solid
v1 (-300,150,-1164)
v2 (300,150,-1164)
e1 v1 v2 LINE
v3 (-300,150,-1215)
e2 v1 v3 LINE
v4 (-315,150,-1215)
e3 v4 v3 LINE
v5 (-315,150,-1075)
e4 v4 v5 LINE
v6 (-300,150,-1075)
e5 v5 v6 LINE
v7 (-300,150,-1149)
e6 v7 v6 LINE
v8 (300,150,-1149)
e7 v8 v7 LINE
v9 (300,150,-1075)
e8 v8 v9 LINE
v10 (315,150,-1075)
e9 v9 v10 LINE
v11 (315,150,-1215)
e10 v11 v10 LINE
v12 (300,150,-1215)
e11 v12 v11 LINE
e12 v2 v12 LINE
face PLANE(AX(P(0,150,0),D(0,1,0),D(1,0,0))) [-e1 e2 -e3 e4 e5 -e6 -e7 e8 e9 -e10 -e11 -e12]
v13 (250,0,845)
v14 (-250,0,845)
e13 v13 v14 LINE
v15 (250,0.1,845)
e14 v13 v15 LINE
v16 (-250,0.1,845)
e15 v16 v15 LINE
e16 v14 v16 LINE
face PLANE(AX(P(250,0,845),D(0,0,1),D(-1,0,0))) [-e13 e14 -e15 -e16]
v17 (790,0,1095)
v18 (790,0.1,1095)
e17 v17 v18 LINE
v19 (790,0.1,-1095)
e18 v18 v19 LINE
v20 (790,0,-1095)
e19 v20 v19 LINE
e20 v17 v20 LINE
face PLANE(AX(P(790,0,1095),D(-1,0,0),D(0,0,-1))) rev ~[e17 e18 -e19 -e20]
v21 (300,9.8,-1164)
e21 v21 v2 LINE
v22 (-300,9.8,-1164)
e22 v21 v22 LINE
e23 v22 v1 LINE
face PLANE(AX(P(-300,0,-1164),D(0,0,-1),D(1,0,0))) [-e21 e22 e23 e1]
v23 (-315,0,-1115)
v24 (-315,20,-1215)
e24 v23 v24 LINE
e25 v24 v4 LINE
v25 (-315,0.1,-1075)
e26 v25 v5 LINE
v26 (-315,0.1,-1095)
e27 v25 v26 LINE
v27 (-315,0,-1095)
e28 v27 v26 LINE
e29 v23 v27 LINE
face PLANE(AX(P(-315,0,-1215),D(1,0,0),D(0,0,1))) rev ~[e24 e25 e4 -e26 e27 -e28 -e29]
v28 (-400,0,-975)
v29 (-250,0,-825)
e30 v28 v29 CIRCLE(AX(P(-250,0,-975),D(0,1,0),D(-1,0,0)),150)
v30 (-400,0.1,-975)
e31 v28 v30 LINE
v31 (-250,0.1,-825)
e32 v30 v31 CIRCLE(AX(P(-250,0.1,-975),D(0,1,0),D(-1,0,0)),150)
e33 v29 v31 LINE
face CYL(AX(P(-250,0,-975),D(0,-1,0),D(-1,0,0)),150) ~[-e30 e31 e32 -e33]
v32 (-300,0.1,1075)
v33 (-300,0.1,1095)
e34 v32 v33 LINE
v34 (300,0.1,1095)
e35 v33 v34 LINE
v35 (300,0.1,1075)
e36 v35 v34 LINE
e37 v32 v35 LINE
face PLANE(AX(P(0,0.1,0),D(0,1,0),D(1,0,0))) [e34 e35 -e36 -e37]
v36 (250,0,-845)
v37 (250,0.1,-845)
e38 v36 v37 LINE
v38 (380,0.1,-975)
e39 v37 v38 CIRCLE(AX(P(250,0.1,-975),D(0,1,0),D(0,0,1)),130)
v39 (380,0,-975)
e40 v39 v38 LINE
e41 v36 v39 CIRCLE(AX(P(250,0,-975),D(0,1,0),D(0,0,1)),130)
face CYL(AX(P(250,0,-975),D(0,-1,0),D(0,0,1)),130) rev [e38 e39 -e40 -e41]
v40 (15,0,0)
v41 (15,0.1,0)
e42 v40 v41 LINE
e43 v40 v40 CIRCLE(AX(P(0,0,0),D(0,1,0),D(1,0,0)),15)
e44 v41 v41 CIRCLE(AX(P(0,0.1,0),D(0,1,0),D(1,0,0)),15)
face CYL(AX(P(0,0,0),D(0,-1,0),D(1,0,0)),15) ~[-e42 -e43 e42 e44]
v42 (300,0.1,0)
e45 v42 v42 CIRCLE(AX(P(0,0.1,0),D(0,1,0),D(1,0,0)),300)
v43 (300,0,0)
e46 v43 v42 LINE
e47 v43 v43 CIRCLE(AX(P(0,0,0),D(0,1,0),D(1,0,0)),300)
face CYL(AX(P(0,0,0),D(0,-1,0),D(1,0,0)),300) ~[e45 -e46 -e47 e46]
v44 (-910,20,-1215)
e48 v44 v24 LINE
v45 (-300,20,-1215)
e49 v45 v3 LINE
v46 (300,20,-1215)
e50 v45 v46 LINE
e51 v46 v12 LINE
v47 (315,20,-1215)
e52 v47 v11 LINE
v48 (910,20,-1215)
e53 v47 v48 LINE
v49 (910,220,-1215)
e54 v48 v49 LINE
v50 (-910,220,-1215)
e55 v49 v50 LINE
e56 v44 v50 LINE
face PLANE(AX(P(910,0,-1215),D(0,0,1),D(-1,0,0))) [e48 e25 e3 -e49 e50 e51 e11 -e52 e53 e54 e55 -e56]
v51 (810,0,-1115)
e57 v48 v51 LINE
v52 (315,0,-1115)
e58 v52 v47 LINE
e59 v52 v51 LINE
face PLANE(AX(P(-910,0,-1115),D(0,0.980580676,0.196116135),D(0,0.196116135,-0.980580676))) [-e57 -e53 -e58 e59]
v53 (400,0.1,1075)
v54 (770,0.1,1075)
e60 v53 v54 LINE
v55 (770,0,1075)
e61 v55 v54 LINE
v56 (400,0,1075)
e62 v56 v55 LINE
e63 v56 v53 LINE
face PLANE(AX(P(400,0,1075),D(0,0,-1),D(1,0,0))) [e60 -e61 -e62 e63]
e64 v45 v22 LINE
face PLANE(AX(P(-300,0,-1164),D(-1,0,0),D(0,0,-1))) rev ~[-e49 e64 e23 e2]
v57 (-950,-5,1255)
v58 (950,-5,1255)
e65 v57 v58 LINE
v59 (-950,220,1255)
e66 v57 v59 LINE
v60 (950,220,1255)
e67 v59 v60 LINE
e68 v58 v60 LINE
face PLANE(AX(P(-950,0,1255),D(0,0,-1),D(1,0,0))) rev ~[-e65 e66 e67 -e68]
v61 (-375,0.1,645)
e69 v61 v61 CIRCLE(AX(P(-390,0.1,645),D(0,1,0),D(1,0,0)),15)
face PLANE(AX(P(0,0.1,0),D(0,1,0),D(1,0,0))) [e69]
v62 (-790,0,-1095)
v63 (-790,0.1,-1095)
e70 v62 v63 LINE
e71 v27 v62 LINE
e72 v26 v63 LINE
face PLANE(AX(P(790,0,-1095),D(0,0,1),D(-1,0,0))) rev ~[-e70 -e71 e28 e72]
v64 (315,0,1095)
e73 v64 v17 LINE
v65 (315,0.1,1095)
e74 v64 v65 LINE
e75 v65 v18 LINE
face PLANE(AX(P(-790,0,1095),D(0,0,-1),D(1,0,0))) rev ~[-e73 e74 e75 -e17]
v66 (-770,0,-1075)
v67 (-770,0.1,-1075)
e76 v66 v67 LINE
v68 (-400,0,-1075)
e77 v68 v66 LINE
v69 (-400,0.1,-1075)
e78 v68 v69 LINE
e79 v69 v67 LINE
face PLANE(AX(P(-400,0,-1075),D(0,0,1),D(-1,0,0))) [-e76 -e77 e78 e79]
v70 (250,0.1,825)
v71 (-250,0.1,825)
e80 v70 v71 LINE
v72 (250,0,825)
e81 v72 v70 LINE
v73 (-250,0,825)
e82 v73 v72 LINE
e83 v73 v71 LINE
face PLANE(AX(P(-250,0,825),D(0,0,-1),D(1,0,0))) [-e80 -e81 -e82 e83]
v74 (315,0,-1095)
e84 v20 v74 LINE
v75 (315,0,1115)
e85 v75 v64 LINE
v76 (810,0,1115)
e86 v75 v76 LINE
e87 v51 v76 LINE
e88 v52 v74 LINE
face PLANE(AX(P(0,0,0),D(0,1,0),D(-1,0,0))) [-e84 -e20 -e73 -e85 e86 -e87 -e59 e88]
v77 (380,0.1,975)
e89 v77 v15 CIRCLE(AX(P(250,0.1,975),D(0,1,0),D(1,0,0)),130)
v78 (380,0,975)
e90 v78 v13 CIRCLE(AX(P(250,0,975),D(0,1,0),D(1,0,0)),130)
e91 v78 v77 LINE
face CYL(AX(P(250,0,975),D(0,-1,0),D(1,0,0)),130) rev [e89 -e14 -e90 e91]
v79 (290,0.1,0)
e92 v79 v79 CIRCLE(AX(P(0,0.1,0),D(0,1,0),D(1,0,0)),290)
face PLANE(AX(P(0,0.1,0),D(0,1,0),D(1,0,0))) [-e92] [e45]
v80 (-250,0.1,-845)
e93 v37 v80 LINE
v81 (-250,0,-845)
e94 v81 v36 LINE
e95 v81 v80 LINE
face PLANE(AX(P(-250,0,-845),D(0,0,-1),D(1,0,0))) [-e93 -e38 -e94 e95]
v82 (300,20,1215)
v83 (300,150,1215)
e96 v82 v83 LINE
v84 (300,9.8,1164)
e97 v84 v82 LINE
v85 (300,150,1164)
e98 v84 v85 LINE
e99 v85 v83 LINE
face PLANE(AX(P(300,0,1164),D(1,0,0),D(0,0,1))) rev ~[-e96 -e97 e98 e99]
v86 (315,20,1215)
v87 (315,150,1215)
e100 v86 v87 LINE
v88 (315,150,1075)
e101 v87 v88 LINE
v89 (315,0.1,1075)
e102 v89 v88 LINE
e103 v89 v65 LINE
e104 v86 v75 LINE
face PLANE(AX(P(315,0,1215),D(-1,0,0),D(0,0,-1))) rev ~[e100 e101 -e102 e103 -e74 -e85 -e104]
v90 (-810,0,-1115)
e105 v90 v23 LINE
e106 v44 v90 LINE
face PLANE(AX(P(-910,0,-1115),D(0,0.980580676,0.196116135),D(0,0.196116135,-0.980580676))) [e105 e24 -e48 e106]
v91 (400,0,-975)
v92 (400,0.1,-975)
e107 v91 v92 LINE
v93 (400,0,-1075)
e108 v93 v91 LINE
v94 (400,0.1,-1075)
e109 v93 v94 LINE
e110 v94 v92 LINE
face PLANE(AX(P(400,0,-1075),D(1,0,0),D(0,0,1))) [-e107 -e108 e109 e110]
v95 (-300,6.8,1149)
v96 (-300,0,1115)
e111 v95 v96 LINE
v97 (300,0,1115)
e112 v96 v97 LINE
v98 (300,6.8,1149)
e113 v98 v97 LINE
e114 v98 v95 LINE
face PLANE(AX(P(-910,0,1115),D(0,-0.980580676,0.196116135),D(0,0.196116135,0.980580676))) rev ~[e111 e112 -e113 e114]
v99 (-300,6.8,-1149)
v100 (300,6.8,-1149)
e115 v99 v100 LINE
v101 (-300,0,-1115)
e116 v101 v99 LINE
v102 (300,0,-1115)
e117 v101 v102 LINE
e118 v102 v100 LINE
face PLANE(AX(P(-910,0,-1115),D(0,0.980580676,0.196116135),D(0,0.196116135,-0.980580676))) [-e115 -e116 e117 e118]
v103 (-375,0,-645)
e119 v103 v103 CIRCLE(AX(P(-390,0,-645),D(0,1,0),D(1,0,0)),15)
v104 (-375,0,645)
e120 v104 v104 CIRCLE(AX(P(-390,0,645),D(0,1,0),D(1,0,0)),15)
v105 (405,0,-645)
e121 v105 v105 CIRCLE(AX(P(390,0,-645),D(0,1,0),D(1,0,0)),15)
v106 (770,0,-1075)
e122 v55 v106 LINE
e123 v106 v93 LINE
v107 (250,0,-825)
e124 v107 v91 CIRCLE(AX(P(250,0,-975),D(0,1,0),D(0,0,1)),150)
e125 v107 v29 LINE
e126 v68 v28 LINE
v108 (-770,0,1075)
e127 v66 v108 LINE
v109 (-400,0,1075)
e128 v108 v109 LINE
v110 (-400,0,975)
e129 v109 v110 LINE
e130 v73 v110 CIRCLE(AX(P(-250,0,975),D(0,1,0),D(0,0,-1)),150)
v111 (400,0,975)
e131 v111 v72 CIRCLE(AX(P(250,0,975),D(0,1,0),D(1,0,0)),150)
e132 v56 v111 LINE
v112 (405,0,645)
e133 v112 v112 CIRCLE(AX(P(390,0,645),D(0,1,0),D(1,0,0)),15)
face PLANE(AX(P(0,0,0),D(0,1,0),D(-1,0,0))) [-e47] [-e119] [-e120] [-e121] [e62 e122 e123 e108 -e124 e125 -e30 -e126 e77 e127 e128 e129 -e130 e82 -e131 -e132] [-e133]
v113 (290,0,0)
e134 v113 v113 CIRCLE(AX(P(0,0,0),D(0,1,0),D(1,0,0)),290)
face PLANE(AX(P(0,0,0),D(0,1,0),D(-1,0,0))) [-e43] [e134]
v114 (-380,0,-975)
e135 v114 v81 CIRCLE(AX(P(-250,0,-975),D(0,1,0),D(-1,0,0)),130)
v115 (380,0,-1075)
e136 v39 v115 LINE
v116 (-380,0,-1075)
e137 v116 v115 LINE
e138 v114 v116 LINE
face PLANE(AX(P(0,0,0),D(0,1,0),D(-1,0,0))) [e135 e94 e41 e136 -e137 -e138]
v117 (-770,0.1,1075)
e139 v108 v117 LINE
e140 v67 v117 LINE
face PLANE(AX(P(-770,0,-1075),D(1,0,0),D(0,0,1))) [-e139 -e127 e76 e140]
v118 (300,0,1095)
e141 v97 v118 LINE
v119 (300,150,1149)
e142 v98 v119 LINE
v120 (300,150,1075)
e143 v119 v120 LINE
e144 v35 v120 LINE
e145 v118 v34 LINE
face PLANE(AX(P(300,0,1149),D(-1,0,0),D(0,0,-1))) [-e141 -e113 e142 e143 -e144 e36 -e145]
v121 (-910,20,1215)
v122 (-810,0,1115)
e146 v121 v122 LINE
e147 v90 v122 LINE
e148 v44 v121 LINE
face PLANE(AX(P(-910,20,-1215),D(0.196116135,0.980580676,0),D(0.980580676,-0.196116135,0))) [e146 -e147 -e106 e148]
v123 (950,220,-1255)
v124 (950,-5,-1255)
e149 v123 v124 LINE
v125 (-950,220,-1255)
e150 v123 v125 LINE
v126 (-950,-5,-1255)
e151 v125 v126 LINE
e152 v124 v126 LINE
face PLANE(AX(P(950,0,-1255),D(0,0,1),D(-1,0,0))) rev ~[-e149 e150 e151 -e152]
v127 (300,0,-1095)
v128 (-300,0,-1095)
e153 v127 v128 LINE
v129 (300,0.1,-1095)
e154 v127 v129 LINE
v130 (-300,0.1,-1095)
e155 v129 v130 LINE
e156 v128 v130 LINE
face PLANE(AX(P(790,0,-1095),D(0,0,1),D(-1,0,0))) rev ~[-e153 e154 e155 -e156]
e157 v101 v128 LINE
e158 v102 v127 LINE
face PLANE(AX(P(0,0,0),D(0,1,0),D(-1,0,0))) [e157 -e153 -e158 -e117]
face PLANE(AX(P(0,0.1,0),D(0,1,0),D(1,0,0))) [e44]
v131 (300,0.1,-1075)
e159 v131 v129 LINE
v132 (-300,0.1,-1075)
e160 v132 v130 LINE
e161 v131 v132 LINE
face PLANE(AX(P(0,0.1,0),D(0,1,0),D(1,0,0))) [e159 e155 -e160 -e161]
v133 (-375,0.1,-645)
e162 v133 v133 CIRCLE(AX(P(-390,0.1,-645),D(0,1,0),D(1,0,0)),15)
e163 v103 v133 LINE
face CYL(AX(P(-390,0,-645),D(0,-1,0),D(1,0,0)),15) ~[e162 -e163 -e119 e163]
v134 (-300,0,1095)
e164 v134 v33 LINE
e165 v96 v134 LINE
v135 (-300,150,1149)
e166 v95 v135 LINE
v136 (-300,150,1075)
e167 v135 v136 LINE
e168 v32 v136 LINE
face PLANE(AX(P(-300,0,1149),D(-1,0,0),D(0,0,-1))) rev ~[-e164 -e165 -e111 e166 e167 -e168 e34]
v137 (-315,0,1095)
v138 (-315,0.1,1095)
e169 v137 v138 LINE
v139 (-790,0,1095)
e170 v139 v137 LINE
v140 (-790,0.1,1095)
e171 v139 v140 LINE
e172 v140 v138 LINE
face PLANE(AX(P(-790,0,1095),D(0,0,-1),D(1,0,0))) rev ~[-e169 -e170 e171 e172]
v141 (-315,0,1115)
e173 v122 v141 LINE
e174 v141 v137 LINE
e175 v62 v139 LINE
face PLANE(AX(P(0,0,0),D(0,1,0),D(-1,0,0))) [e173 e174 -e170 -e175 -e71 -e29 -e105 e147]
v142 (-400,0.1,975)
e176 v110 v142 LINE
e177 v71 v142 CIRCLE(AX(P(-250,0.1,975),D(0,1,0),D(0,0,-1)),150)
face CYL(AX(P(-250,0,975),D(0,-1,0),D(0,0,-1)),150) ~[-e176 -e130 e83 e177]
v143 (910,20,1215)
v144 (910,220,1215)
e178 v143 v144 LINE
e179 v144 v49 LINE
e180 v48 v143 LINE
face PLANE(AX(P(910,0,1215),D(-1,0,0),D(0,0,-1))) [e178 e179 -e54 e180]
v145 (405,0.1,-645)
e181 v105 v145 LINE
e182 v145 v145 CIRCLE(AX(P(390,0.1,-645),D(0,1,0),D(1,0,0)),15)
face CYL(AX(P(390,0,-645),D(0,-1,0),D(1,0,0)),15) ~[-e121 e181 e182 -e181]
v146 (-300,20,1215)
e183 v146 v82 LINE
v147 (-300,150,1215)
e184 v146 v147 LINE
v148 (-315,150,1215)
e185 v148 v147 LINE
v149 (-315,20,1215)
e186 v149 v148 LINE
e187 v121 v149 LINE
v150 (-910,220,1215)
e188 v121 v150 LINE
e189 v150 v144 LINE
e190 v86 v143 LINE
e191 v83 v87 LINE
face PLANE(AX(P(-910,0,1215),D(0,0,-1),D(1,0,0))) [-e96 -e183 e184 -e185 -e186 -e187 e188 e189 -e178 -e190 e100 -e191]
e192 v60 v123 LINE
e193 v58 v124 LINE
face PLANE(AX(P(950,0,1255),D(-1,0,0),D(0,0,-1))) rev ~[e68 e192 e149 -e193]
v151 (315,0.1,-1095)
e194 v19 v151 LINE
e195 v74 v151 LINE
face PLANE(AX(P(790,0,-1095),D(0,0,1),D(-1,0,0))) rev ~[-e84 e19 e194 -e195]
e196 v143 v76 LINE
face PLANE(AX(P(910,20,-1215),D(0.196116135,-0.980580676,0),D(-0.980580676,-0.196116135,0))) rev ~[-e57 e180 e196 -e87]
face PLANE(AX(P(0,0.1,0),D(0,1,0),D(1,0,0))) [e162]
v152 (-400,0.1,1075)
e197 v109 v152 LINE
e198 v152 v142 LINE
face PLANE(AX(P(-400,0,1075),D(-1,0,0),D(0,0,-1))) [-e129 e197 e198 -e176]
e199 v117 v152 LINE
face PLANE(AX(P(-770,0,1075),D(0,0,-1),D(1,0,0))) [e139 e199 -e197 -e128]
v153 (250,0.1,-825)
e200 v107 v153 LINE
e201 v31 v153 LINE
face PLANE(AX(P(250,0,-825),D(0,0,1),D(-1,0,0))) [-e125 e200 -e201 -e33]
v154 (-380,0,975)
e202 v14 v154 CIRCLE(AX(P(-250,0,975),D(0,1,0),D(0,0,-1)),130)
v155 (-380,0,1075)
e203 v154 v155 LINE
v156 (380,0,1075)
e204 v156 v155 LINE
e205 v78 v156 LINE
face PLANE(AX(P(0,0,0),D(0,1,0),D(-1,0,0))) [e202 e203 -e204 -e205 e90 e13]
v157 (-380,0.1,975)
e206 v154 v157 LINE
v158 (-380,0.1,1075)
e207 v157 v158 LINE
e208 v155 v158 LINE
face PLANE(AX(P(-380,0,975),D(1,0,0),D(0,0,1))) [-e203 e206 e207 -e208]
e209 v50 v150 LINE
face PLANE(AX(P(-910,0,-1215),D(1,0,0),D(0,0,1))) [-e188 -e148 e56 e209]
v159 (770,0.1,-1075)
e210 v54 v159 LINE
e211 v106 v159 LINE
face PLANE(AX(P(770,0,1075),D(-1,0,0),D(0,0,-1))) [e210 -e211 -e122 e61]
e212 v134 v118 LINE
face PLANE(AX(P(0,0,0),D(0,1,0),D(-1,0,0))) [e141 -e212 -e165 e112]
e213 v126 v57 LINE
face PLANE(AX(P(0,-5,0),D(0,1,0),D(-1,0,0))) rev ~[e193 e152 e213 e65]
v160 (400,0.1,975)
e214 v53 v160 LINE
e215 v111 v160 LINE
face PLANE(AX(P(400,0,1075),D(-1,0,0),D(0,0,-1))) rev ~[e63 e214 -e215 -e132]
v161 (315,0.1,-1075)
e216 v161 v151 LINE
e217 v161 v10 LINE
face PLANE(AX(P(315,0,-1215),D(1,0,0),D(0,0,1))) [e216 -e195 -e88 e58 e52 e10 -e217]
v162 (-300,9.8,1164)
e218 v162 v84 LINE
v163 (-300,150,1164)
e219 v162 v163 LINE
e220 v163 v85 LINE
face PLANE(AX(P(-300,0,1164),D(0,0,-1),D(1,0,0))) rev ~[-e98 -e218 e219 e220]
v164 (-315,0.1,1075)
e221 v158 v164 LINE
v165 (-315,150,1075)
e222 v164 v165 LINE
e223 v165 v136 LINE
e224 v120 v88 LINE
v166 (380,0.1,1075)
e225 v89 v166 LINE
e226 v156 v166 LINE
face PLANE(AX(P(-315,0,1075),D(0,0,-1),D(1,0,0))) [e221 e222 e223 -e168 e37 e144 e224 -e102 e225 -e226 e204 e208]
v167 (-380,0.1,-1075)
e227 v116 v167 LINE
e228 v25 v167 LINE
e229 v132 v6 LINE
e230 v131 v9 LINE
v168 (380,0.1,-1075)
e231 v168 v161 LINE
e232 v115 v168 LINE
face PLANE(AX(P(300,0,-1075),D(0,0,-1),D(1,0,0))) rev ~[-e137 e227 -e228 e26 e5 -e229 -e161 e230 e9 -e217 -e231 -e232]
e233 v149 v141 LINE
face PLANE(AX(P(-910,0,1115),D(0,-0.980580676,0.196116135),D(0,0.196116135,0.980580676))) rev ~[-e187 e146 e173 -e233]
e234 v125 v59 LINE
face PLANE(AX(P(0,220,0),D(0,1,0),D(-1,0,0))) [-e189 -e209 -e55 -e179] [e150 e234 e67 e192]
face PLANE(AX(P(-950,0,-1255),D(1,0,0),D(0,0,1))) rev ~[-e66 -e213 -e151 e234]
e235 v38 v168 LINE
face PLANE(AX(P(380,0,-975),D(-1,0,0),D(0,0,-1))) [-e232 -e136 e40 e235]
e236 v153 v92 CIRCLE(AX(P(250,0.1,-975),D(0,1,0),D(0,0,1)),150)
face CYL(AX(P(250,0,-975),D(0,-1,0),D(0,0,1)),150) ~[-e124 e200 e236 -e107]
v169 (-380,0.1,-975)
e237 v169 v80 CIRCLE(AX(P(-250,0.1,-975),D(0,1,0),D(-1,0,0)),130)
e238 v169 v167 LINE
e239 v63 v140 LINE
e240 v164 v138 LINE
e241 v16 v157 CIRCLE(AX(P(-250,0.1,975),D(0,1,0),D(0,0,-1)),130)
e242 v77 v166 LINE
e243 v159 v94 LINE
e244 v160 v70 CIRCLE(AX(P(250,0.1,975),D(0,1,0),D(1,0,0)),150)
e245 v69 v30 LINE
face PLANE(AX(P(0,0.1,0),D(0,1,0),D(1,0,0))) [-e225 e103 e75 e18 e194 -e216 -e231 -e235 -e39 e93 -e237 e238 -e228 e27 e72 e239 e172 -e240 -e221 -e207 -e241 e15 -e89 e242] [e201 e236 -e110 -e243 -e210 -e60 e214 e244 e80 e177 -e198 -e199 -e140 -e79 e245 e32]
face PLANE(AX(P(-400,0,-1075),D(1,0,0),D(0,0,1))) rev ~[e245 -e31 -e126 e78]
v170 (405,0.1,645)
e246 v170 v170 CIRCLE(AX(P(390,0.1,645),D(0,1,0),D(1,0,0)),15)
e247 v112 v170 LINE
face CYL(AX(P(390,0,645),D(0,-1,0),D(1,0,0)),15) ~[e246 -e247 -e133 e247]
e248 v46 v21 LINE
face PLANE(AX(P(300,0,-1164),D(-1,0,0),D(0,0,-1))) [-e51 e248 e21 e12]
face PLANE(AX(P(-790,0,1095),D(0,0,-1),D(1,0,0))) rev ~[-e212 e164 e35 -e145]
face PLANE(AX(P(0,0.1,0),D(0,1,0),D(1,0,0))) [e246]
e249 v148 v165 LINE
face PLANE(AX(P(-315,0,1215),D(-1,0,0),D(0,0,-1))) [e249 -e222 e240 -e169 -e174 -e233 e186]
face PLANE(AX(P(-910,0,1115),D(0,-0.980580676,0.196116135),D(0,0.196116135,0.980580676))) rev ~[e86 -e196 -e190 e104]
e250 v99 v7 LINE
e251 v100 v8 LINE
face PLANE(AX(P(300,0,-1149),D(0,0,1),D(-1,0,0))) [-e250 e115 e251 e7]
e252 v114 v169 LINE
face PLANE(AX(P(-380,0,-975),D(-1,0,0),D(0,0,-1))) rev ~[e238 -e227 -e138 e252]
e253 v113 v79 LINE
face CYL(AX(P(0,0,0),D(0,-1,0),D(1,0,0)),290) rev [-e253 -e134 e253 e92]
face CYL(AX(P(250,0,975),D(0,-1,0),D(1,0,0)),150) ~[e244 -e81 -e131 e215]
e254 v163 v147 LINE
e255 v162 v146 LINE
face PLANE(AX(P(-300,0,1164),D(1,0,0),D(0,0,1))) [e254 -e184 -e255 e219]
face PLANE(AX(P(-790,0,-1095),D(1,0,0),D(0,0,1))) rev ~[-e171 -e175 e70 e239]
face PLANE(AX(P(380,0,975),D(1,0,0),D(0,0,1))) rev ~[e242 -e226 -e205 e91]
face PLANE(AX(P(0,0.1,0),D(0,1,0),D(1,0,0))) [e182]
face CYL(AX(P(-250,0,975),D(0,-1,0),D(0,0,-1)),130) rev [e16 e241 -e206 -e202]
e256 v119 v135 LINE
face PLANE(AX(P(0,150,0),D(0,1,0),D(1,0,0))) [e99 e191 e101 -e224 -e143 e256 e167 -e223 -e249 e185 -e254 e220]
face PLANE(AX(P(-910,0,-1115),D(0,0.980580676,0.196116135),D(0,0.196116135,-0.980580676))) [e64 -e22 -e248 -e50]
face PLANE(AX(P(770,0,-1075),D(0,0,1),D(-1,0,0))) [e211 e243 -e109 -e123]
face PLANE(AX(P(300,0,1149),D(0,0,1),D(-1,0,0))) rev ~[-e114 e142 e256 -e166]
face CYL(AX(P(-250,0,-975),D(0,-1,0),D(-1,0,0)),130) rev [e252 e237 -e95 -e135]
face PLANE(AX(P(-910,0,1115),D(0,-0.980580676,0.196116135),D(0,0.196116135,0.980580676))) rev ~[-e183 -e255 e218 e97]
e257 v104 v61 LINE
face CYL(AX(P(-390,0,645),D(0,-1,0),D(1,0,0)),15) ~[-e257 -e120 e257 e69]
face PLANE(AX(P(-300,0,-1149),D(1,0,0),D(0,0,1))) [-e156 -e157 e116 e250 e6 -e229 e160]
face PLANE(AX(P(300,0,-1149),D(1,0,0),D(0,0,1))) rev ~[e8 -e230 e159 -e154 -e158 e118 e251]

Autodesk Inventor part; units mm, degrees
ref_plane "YZ Plane" through (0, 0, 0) normal (1, 0, 0) x (0, 1, 0)
ref_plane "XZ Plane" through (0, 0, 0) normal (0, 1, 0) x (-1, 0, 0)
ref_plane "XY Plane" through (0, 0, 0) normal (0, 0, 1) x (1, 0, 0)
sketch "Эскиз1" plane through (0, 0, 0) normal (0, 1, 0) x (-1, 0, 0)
  line L0 (910, 1215) -> (-910, 1215)
  line L1 (-910, 1215) -> (-910, -1215)
  line L2 (-910, -1215) -> (910, -1215)
  line L3 (910, -1215) -> (910, 1215)
  line L4 (0, 0) -> (0, -1215) construction
  line L5 (0, 0) -> (910, 0) construction
  line L6 (950, 1255) -> (-950, 1255)
  line L7 (-950, 1255) -> (-950, -1255)
  line L8 (-950, -1255) -> (950, -1255)
  line L9 (950, -1255) -> (950, 1255)
  dimension "d0" = 2430
  dimension "d1" = 1820
  dimension "d2" = 40
  dimension "d3" = 40
extrude "Выдавливание1" add sketch "Эскиз1" along normal blind 220
extrude "Выдавливание2" add sketch "Эскиз1" against normal blind 5 contours L3 L2 L1 L0 | L9 L8 L7 L6
sketch "Эскиз2" plane through (-910, 220, -1215) normal (0, 0, 1) x (1, 0, 0)
  line L0 (-40, -225) -> (-40, 0) construction
  line L1 (1860, 0) -> (-40, 0) construction
  line L2 (1860, 0) -> (1860, -225) construction
  line L3 (-40, -225) -> (1860, -225) construction
  line L4 (0, -220) -> (0, 0) construction
  line L5 (1860, 0) -> (-40, 0) construction
  line L6 (-40, 0) -> (1860, 0) construction
  line L7 (0, 0) -> (1820, 0) construction
  line L8 (1820, 0) -> (0, 0) construction
  line L9 (0, -220) -> (100, -220)
  line L10 (0, -220) -> (0, -200)
  line L11 (0, -200) -> (100, -220)
  line L12 (1820, -220) -> (1820, 0) construction
  line L13 (910, -220) -> (910, 0) construction
  line L14 (1820, -220) -> (1720, -220)
  line L15 (1820, -220) -> (1820, -200)
  line L16 (1820, -200) -> (1720, -220)
  point P0 (910, -220)
  dimension "d8" = 100
  dimension "d9" = 20
extrude "Выдавливание3" add sketch "Эскиз2" along normal blind 2430
sketch "Эскиз3" plane through (-910, 220, 1215) normal (1, 0, 0) x (0, 0, -1)
  line L0 (2430, -200) -> (2430, 0) construction
  line L1 (0, -200) -> (0, 0) construction
  line L2 (0, -200) -> (2430, -200) construction
  line L3 (2430, -200) -> (2430, 0) construction
  line L4 (0, 0) -> (2430, 0) construction
  line L5 (0, -200) -> (0, 0) construction
  line L6 (1215, -220) -> (1215, 0) construction
  line L7 (2470, 0) -> (-40, 0) projected
  line L8 (0, -220) -> (100, -220)
  line L9 (100, -220) -> (0, -200)
  line L10 (0, -200) -> (0, -220)
  line L11 (2430, -220) -> (2330, -220)
  line L12 (2330, -220) -> (2430, -200)
  line L13 (2430, -200) -> (2430, -220)
  dimension "d14" = 100
  dimension "d15" = 20
extrude "Выдавливание4" add sketch "Эскиз3" along normal blind 1820
sketch "Эскиз4" plane through (0, 0, 0) normal (0, 1, 0) x (1, 0, 0)
  line L0 (-790, -1095) -> (790, -1095)
  line L1 (790, -1095) -> (790, 1095)
  line L2 (790, 1095) -> (-790, 1095)
  line L3 (-790, 1095) -> (-790, -1095)
  line L4 (0, 0) -> (0, 1215) construction
  line L5 (0, 0) -> (-910, 0) construction
  line L6 (810, -1115) -> (910, -1215) construction
  line L7 (-810, -1115) -> (810, -1115) construction
  line L8 (-910, -1215) -> (-810, -1115) construction
  line L9 (910, -1215) -> (-910, -1215) construction
  line L10 (-810, 1115) -> (-910, 1215) construction
  line L11 (-910, -1215) -> (-910, 1215) construction
  line L12 (-910, -1215) -> (-810, -1115) construction
  line L13 (-810, 1115) -> (-810, -1115) construction
  line L14 (910, 1215) -> (810, 1115) construction
  line L15 (-910, 1215) -> (910, 1215) construction
  line L16 (-810, 1115) -> (-910, 1215) construction
  line L17 (810, 1115) -> (-810, 1115) construction
  line L18 (910, 1215) -> (810, 1115) construction
  line L19 (810, -1115) -> (810, 1115) construction
  line L20 (810, -1115) -> (910, -1215) construction
  line L21 (910, 1215) -> (910, -1215) construction
  line L22 (810, 1115) -> (-810, 1115) construction
  line L23 (-810, 1115) -> (-810, -1115) construction
  line L24 (-810, -1115) -> (810, -1115) construction
  line L25 (810, -1115) -> (810, 1115) construction
  line L26 (-770, -1075) -> (770, -1075)
  line L27 (770, -1075) -> (770, 1075)
  line L28 (770, 1075) -> (-770, 1075)
  line L29 (-770, 1075) -> (-770, -1075)
  line L30 (-400, -1075) -> (400, -1075) construction
  line L31 (-400, -1075) -> (-400, -975)
  line L32 (-400, -825) -> (400, -825) construction
  line L33 (400, -825) -> (400, -1075) construction
  arc A0 (-400, -975) -> (-250, -825) centre (-250, -975) ccw construction
  arc A1 (-380, -975) -> (-250, -845) centre (-250, -975) ccw construction
  line L34 (-380, -975) -> (-380, -1075)
  line L35 (-250, -845) -> (0, -845)
  arc A2 (-250, -845) -> (-380, -975) centre (-250, -975) ccw
  arc A3 (-250, -825) -> (-400, -975) centre (-250, -975) ccw
  line L36 (-400, -975) -> (-400, -825) construction
  line L37 (-250, -825) -> (0, -825)
  line L38 (400, -1075) -> (400, -975)
  line L39 (380, -975) -> (380, -1075)
  line L40 (250, -845) -> (0, -845)
  arc A4 (380, -975) -> (250, -845) centre (250, -975) ccw
  arc A5 (400, -975) -> (250, -825) centre (250, -975) ccw
  line L41 (250, -825) -> (0, -825)
  line L42 (-400, 1075) -> (-400, 975)
  line L43 (-380, 975) -> (-380, 1075)
  line L44 (-250, 845) -> (0, 845)
  arc A6 (-380, 975) -> (-250, 845) centre (-250, 975) ccw
  arc A7 (-400, 975) -> (-250, 825) centre (-250, 975) ccw
  line L45 (-250, 825) -> (0, 825)
  line L46 (250, 845) -> (0, 845)
  line L47 (250, 825) -> (0, 825)
  arc A8 (250, 825) -> (400, 975) centre (250, 975) ccw
  arc A9 (250, 845) -> (380, 975) centre (250, 975) ccw
  line L48 (380, 975) -> (380, 1075)
  line L49 (400, 1075) -> (400, 975)
  point P0 (0, -1075)
  dimension "d18" = 120
  dimension "d19" = 120
  dimension "d20" = 20
  dimension "d21" = 20
  dimension "d22" = 800
  dimension "d23" = 250
  dimension "d24" = 300
  dimension "d25" = 20
extrude "Выдавливание5" add sketch "Эскиз4" along normal blind 0.1 contours L3 L2 L1 L0 | L31 A3 L37 L41 A5 L38 L26 L39 A4 L40 L35 A2 L34 | L28 L43 A6 L44 L46 A9 L48 L49 A8 L47 L45 A7 L42
sketch "Эскиз5" plane through (0, 0, 0) normal (0, 1, 0) x (1, 0, 0)
  line L0 (0, 0) -> (-910, 0) construction
  line L1 (0, 0) -> (0, 1215) construction
  circle A0 centre (0, 0) radius 300
  circle A1 centre (0, 0) radius 290
  circle A2 centre (0, 0) radius 15
  line L2 (400, -975) -> (400, -1075) construction
  line L3 (400, -1075) -> (770, -1075) construction
  line L4 (770, -1075) -> (770, 1075) construction
  line L5 (770, 1075) -> (400, 1075) construction
  line L6 (400, 1075) -> (400, 975) construction
  arc A3 (250, 825) -> (400, 975) centre (250, 975) ccw construction
  line L7 (250, 825) -> (-250, 825) construction
  arc A4 (-400, 975) -> (-250, 825) centre (-250, 975) ccw construction
  line L8 (-400, 975) -> (-400, 1075) construction
  line L9 (-400, 1075) -> (-770, 1075) construction
  line L10 (-770, 1075) -> (-770, -1075) construction
  line L11 (-770, -1075) -> (-400, -1075) construction
  line L12 (-400, -1075) -> (-400, -975) construction
  arc A5 (-250, -825) -> (-400, -975) centre (-250, -975) ccw construction
  line L13 (-250, -825) -> (250, -825) construction
  arc A6 (400, -975) -> (250, -825) centre (250, -975) ccw construction
  line L14 (910, 1215) -> (810, 1115) construction
  line L15 (-910, 1215) -> (910, 1215) construction
  line L16 (-810, 1115) -> (-910, 1215) construction
  line L17 (810, 1115) -> (-810, 1115) construction
  line L18 (790, 1095) -> (-790, 1095) construction
  line L19 (-790, 1095) -> (-790, -1095) construction
  line L20 (-790, 1095) -> (790, 1095) construction
  line L21 (-790, 1095) -> (-390, 1095) construction
  line L22 (-390, 1095) -> (-390, 645) construction
  line L23 (-390, 645) -> (-790, 645) construction
  line L24 (-790, 645) -> (-790, 1095) construction
  circle A7 centre (-390, 645) radius 15
  circle A8 centre (-390, -645) radius 15
  circle A9 centre (390, 645) radius 15
  circle A10 centre (390, -645) radius 15
  dimension "d28" = 600
  dimension "d29" = 10
  dimension "d30" = 30
  dimension "d31" = 400
  dimension "d32" = 450
  dimension "d33" = 30
extrude "Выдавливание6" add sketch "Эскиз5" along normal blind 0.1
sketch "Эскиз6" plane through (0, 0, 0) normal (0, 1, 0) x (1, 0, 0)
  line L0 (-380, 1075) -> (-380, 975) construction
  arc A0 (-380, 975) -> (-250, 845) centre (-250, 975) ccw construction
  line L1 (-250, 845) -> (250, 845) construction
  arc A1 (250, 845) -> (380, 975) centre (250, 975) ccw construction
  line L2 (380, 975) -> (380, 1075) construction
  line L3 (380, 1075) -> (-380, 1075) construction
  line L4 (910, 1215) -> (810, 1115) construction
  line L5 (-910, 1215) -> (910, 1215) construction
  line L6 (-810, 1115) -> (-910, 1215) construction
  line L7 (810, 1115) -> (-810, 1115) construction
  line L8 (810, 1115) -> (-810, 1115) construction
  line L9 (-810, 1115) -> (-810, -1115) construction
  line L10 (-810, -1115) -> (810, -1115) construction
  line L11 (810, -1115) -> (810, 1115) construction
  line L12 (-790, -1095) -> (-790, 1095) construction
  line L13 (-790, 1095) -> (790, 1095) construction
  line L14 (790, 1095) -> (790, -1095) construction
  line L15 (790, -1095) -> (-790, -1095) construction
  line L16 (-790, -1095) -> (790, -1095) construction
  line L17 (790, -1095) -> (790, 1095) construction
  line L18 (790, 1095) -> (-790, 1095) construction
  line L19 (-790, 1095) -> (-790, -1095) construction
  arc A2 (400, -975) -> (250, -825) centre (250, -975) ccw construction
  line L20 (250, -825) -> (-250, -825) construction
  arc A3 (-250, -825) -> (-400, -975) centre (-250, -975) ccw construction
  line L21 (-400, -975) -> (-400, -1075) construction
  line L22 (-400, -1075) -> (-770, -1075) construction
  line L23 (-770, -1075) -> (-770, 1075) construction
  line L24 (-770, 1075) -> (-400, 1075) construction
  line L25 (-400, 1075) -> (-400, 975) construction
  arc A4 (-400, 975) -> (-250, 825) centre (-250, 975) ccw construction
  line L26 (-250, 825) -> (250, 825) construction
  arc A5 (250, 825) -> (400, 975) centre (250, 975) ccw construction
  line L27 (400, 975) -> (400, 1075) construction
  line L28 (400, 1075) -> (770, 1075) construction
  line L29 (770, 1075) -> (770, -1075) construction
  line L30 (770, -1075) -> (400, -1075) construction
  line L31 (400, -1075) -> (400, -975) construction
  line L32 (-380, 1075) -> (380, 1075) construction
  line L33 (380, 1075) -> (380, 975) construction
  arc A6 (250, 845) -> (380, 975) centre (250, 975) ccw construction
  line L34 (250, 845) -> (-250, 845) construction
  arc A7 (-380, 975) -> (-250, 845) centre (-250, 975) ccw construction
  line L35 (-380, 975) -> (-380, 1075) construction
  arc A8 (380, -975) -> (250, -845) centre (250, -975) ccw construction
  line L36 (380, -975) -> (380, -1075) construction
  line L37 (380, -1075) -> (-380, -1075) construction
  line L38 (-380, -1075) -> (-380, -975) construction
  arc A9 (-250, -845) -> (-380, -975) centre (-250, -975) ccw construction
  line L39 (-250, -845) -> (250, -845) construction
  line L40 (950, 1255) -> (-950, 1255) construction
  line L41 (-950, 1255) -> (-950, -1255) construction
  line L42 (-950, -1255) -> (950, -1255) construction
  line L43 (950, -1255) -> (950, 1255) construction
  line L44 (-910, -1215) -> (-910, 1215) construction
  line L45 (-910, 1215) -> (910, 1215) construction
  line L46 (910, 1215) -> (910, -1215) construction
  line L47 (910, -1215) -> (-910, -1215) construction
  line L48 (0, 0) -> (0, 1215) construction
  line L49 (400, -975) -> (400, -1075) construction
  line L50 (400, -1075) -> (770, -1075) construction
  line L51 (770, -1075) -> (770, 1075) construction
  line L52 (770, 1075) -> (400, 1075) construction
  line L53 (400, 1075) -> (400, 975) construction
  arc A10 (250, 825) -> (400, 975) centre (250, 975) ccw construction
  line L54 (250, 825) -> (-250, 825) construction
  arc A11 (-400, 975) -> (-250, 825) centre (-250, 975) ccw construction
  line L55 (-400, 975) -> (-400, 1075) construction
  line L56 (-400, 1075) -> (-770, 1075) construction
  line L57 (-770, 1075) -> (-770, -1075) construction
  line L58 (-770, -1075) -> (-400, -1075) construction
  line L59 (-400, -1075) -> (-400, -975) construction
  arc A12 (-250, -825) -> (-400, -975) centre (-250, -975) ccw construction
  line L60 (-250, -825) -> (250, -825) construction
  arc A13 (400, -975) -> (250, -825) centre (250, -975) ccw construction
  circle A14 centre (-390, -645) radius 15 construction
  circle A15 centre (390, 645) radius 15 construction
  circle A16 centre (390, -645) radius 15 construction
  circle A17 centre (-390, 645) radius 15 construction
  circle A18 centre (0, 0) radius 300 construction
  line L61 (0, 0) -> (-910, 0) construction
  line L62 (-910, 1215) -> (910, 1215) construction
  line L63 (-300, 1215) -> (300, 1215) construction
  line L64 (300, 1215) -> (300, 1149) construction
  line L65 (300, 1149) -> (-300, 1149)
  line L66 (-300, 1149) -> (-300, 1215) construction
  line L67 (-300, 1149) -> (-300, 1075)
  line L68 (380, 1075) -> (-380, 1075) construction
  line L69 (300, 1149) -> (300, 1075)
  line L70 (-300, 1164) -> (300, 1164)
  line L71 (-300, 1164) -> (-300, 1215)
  line L72 (300, 1164) -> (300, 1215)
  line L73 (-315, 1215) -> (-315, 1075)
  line L74 (-315, 1075) -> (-300, 1075)
  line L75 (-315, 1215) -> (-300, 1215)
  line L76 (315, 1215) -> (315, 1075)
  line L77 (300, 1075) -> (315, 1075)
  line L78 (300, 1215) -> (315, 1215)
  line L79 (300, -1149) -> (-300, -1149)
  line L80 (-300, -1149) -> (-300, -1075)
  line L81 (300, -1149) -> (300, -1075)
  line L82 (-300, -1164) -> (300, -1164)
  line L83 (-300, -1164) -> (-300, -1215)
  line L84 (300, -1164) -> (300, -1215)
  line L85 (-315, -1215) -> (-315, -1075)
  line L86 (-315, -1075) -> (-300, -1075)
  line L87 (-315, -1215) -> (-300, -1215)
  line L88 (315, -1215) -> (315, -1075)
  line L89 (300, -1075) -> (315, -1075)
  line L90 (300, -1215) -> (315, -1215)
  dimension "d36" = 600
  dimension "d38" = 74
  dimension "d39" = 15
  dimension "d40" = 15
  dimension "d41" = 15
extrude "Выдавливание7" add sketch "Эскиз6" along normal blind 150
properties part number "field"
